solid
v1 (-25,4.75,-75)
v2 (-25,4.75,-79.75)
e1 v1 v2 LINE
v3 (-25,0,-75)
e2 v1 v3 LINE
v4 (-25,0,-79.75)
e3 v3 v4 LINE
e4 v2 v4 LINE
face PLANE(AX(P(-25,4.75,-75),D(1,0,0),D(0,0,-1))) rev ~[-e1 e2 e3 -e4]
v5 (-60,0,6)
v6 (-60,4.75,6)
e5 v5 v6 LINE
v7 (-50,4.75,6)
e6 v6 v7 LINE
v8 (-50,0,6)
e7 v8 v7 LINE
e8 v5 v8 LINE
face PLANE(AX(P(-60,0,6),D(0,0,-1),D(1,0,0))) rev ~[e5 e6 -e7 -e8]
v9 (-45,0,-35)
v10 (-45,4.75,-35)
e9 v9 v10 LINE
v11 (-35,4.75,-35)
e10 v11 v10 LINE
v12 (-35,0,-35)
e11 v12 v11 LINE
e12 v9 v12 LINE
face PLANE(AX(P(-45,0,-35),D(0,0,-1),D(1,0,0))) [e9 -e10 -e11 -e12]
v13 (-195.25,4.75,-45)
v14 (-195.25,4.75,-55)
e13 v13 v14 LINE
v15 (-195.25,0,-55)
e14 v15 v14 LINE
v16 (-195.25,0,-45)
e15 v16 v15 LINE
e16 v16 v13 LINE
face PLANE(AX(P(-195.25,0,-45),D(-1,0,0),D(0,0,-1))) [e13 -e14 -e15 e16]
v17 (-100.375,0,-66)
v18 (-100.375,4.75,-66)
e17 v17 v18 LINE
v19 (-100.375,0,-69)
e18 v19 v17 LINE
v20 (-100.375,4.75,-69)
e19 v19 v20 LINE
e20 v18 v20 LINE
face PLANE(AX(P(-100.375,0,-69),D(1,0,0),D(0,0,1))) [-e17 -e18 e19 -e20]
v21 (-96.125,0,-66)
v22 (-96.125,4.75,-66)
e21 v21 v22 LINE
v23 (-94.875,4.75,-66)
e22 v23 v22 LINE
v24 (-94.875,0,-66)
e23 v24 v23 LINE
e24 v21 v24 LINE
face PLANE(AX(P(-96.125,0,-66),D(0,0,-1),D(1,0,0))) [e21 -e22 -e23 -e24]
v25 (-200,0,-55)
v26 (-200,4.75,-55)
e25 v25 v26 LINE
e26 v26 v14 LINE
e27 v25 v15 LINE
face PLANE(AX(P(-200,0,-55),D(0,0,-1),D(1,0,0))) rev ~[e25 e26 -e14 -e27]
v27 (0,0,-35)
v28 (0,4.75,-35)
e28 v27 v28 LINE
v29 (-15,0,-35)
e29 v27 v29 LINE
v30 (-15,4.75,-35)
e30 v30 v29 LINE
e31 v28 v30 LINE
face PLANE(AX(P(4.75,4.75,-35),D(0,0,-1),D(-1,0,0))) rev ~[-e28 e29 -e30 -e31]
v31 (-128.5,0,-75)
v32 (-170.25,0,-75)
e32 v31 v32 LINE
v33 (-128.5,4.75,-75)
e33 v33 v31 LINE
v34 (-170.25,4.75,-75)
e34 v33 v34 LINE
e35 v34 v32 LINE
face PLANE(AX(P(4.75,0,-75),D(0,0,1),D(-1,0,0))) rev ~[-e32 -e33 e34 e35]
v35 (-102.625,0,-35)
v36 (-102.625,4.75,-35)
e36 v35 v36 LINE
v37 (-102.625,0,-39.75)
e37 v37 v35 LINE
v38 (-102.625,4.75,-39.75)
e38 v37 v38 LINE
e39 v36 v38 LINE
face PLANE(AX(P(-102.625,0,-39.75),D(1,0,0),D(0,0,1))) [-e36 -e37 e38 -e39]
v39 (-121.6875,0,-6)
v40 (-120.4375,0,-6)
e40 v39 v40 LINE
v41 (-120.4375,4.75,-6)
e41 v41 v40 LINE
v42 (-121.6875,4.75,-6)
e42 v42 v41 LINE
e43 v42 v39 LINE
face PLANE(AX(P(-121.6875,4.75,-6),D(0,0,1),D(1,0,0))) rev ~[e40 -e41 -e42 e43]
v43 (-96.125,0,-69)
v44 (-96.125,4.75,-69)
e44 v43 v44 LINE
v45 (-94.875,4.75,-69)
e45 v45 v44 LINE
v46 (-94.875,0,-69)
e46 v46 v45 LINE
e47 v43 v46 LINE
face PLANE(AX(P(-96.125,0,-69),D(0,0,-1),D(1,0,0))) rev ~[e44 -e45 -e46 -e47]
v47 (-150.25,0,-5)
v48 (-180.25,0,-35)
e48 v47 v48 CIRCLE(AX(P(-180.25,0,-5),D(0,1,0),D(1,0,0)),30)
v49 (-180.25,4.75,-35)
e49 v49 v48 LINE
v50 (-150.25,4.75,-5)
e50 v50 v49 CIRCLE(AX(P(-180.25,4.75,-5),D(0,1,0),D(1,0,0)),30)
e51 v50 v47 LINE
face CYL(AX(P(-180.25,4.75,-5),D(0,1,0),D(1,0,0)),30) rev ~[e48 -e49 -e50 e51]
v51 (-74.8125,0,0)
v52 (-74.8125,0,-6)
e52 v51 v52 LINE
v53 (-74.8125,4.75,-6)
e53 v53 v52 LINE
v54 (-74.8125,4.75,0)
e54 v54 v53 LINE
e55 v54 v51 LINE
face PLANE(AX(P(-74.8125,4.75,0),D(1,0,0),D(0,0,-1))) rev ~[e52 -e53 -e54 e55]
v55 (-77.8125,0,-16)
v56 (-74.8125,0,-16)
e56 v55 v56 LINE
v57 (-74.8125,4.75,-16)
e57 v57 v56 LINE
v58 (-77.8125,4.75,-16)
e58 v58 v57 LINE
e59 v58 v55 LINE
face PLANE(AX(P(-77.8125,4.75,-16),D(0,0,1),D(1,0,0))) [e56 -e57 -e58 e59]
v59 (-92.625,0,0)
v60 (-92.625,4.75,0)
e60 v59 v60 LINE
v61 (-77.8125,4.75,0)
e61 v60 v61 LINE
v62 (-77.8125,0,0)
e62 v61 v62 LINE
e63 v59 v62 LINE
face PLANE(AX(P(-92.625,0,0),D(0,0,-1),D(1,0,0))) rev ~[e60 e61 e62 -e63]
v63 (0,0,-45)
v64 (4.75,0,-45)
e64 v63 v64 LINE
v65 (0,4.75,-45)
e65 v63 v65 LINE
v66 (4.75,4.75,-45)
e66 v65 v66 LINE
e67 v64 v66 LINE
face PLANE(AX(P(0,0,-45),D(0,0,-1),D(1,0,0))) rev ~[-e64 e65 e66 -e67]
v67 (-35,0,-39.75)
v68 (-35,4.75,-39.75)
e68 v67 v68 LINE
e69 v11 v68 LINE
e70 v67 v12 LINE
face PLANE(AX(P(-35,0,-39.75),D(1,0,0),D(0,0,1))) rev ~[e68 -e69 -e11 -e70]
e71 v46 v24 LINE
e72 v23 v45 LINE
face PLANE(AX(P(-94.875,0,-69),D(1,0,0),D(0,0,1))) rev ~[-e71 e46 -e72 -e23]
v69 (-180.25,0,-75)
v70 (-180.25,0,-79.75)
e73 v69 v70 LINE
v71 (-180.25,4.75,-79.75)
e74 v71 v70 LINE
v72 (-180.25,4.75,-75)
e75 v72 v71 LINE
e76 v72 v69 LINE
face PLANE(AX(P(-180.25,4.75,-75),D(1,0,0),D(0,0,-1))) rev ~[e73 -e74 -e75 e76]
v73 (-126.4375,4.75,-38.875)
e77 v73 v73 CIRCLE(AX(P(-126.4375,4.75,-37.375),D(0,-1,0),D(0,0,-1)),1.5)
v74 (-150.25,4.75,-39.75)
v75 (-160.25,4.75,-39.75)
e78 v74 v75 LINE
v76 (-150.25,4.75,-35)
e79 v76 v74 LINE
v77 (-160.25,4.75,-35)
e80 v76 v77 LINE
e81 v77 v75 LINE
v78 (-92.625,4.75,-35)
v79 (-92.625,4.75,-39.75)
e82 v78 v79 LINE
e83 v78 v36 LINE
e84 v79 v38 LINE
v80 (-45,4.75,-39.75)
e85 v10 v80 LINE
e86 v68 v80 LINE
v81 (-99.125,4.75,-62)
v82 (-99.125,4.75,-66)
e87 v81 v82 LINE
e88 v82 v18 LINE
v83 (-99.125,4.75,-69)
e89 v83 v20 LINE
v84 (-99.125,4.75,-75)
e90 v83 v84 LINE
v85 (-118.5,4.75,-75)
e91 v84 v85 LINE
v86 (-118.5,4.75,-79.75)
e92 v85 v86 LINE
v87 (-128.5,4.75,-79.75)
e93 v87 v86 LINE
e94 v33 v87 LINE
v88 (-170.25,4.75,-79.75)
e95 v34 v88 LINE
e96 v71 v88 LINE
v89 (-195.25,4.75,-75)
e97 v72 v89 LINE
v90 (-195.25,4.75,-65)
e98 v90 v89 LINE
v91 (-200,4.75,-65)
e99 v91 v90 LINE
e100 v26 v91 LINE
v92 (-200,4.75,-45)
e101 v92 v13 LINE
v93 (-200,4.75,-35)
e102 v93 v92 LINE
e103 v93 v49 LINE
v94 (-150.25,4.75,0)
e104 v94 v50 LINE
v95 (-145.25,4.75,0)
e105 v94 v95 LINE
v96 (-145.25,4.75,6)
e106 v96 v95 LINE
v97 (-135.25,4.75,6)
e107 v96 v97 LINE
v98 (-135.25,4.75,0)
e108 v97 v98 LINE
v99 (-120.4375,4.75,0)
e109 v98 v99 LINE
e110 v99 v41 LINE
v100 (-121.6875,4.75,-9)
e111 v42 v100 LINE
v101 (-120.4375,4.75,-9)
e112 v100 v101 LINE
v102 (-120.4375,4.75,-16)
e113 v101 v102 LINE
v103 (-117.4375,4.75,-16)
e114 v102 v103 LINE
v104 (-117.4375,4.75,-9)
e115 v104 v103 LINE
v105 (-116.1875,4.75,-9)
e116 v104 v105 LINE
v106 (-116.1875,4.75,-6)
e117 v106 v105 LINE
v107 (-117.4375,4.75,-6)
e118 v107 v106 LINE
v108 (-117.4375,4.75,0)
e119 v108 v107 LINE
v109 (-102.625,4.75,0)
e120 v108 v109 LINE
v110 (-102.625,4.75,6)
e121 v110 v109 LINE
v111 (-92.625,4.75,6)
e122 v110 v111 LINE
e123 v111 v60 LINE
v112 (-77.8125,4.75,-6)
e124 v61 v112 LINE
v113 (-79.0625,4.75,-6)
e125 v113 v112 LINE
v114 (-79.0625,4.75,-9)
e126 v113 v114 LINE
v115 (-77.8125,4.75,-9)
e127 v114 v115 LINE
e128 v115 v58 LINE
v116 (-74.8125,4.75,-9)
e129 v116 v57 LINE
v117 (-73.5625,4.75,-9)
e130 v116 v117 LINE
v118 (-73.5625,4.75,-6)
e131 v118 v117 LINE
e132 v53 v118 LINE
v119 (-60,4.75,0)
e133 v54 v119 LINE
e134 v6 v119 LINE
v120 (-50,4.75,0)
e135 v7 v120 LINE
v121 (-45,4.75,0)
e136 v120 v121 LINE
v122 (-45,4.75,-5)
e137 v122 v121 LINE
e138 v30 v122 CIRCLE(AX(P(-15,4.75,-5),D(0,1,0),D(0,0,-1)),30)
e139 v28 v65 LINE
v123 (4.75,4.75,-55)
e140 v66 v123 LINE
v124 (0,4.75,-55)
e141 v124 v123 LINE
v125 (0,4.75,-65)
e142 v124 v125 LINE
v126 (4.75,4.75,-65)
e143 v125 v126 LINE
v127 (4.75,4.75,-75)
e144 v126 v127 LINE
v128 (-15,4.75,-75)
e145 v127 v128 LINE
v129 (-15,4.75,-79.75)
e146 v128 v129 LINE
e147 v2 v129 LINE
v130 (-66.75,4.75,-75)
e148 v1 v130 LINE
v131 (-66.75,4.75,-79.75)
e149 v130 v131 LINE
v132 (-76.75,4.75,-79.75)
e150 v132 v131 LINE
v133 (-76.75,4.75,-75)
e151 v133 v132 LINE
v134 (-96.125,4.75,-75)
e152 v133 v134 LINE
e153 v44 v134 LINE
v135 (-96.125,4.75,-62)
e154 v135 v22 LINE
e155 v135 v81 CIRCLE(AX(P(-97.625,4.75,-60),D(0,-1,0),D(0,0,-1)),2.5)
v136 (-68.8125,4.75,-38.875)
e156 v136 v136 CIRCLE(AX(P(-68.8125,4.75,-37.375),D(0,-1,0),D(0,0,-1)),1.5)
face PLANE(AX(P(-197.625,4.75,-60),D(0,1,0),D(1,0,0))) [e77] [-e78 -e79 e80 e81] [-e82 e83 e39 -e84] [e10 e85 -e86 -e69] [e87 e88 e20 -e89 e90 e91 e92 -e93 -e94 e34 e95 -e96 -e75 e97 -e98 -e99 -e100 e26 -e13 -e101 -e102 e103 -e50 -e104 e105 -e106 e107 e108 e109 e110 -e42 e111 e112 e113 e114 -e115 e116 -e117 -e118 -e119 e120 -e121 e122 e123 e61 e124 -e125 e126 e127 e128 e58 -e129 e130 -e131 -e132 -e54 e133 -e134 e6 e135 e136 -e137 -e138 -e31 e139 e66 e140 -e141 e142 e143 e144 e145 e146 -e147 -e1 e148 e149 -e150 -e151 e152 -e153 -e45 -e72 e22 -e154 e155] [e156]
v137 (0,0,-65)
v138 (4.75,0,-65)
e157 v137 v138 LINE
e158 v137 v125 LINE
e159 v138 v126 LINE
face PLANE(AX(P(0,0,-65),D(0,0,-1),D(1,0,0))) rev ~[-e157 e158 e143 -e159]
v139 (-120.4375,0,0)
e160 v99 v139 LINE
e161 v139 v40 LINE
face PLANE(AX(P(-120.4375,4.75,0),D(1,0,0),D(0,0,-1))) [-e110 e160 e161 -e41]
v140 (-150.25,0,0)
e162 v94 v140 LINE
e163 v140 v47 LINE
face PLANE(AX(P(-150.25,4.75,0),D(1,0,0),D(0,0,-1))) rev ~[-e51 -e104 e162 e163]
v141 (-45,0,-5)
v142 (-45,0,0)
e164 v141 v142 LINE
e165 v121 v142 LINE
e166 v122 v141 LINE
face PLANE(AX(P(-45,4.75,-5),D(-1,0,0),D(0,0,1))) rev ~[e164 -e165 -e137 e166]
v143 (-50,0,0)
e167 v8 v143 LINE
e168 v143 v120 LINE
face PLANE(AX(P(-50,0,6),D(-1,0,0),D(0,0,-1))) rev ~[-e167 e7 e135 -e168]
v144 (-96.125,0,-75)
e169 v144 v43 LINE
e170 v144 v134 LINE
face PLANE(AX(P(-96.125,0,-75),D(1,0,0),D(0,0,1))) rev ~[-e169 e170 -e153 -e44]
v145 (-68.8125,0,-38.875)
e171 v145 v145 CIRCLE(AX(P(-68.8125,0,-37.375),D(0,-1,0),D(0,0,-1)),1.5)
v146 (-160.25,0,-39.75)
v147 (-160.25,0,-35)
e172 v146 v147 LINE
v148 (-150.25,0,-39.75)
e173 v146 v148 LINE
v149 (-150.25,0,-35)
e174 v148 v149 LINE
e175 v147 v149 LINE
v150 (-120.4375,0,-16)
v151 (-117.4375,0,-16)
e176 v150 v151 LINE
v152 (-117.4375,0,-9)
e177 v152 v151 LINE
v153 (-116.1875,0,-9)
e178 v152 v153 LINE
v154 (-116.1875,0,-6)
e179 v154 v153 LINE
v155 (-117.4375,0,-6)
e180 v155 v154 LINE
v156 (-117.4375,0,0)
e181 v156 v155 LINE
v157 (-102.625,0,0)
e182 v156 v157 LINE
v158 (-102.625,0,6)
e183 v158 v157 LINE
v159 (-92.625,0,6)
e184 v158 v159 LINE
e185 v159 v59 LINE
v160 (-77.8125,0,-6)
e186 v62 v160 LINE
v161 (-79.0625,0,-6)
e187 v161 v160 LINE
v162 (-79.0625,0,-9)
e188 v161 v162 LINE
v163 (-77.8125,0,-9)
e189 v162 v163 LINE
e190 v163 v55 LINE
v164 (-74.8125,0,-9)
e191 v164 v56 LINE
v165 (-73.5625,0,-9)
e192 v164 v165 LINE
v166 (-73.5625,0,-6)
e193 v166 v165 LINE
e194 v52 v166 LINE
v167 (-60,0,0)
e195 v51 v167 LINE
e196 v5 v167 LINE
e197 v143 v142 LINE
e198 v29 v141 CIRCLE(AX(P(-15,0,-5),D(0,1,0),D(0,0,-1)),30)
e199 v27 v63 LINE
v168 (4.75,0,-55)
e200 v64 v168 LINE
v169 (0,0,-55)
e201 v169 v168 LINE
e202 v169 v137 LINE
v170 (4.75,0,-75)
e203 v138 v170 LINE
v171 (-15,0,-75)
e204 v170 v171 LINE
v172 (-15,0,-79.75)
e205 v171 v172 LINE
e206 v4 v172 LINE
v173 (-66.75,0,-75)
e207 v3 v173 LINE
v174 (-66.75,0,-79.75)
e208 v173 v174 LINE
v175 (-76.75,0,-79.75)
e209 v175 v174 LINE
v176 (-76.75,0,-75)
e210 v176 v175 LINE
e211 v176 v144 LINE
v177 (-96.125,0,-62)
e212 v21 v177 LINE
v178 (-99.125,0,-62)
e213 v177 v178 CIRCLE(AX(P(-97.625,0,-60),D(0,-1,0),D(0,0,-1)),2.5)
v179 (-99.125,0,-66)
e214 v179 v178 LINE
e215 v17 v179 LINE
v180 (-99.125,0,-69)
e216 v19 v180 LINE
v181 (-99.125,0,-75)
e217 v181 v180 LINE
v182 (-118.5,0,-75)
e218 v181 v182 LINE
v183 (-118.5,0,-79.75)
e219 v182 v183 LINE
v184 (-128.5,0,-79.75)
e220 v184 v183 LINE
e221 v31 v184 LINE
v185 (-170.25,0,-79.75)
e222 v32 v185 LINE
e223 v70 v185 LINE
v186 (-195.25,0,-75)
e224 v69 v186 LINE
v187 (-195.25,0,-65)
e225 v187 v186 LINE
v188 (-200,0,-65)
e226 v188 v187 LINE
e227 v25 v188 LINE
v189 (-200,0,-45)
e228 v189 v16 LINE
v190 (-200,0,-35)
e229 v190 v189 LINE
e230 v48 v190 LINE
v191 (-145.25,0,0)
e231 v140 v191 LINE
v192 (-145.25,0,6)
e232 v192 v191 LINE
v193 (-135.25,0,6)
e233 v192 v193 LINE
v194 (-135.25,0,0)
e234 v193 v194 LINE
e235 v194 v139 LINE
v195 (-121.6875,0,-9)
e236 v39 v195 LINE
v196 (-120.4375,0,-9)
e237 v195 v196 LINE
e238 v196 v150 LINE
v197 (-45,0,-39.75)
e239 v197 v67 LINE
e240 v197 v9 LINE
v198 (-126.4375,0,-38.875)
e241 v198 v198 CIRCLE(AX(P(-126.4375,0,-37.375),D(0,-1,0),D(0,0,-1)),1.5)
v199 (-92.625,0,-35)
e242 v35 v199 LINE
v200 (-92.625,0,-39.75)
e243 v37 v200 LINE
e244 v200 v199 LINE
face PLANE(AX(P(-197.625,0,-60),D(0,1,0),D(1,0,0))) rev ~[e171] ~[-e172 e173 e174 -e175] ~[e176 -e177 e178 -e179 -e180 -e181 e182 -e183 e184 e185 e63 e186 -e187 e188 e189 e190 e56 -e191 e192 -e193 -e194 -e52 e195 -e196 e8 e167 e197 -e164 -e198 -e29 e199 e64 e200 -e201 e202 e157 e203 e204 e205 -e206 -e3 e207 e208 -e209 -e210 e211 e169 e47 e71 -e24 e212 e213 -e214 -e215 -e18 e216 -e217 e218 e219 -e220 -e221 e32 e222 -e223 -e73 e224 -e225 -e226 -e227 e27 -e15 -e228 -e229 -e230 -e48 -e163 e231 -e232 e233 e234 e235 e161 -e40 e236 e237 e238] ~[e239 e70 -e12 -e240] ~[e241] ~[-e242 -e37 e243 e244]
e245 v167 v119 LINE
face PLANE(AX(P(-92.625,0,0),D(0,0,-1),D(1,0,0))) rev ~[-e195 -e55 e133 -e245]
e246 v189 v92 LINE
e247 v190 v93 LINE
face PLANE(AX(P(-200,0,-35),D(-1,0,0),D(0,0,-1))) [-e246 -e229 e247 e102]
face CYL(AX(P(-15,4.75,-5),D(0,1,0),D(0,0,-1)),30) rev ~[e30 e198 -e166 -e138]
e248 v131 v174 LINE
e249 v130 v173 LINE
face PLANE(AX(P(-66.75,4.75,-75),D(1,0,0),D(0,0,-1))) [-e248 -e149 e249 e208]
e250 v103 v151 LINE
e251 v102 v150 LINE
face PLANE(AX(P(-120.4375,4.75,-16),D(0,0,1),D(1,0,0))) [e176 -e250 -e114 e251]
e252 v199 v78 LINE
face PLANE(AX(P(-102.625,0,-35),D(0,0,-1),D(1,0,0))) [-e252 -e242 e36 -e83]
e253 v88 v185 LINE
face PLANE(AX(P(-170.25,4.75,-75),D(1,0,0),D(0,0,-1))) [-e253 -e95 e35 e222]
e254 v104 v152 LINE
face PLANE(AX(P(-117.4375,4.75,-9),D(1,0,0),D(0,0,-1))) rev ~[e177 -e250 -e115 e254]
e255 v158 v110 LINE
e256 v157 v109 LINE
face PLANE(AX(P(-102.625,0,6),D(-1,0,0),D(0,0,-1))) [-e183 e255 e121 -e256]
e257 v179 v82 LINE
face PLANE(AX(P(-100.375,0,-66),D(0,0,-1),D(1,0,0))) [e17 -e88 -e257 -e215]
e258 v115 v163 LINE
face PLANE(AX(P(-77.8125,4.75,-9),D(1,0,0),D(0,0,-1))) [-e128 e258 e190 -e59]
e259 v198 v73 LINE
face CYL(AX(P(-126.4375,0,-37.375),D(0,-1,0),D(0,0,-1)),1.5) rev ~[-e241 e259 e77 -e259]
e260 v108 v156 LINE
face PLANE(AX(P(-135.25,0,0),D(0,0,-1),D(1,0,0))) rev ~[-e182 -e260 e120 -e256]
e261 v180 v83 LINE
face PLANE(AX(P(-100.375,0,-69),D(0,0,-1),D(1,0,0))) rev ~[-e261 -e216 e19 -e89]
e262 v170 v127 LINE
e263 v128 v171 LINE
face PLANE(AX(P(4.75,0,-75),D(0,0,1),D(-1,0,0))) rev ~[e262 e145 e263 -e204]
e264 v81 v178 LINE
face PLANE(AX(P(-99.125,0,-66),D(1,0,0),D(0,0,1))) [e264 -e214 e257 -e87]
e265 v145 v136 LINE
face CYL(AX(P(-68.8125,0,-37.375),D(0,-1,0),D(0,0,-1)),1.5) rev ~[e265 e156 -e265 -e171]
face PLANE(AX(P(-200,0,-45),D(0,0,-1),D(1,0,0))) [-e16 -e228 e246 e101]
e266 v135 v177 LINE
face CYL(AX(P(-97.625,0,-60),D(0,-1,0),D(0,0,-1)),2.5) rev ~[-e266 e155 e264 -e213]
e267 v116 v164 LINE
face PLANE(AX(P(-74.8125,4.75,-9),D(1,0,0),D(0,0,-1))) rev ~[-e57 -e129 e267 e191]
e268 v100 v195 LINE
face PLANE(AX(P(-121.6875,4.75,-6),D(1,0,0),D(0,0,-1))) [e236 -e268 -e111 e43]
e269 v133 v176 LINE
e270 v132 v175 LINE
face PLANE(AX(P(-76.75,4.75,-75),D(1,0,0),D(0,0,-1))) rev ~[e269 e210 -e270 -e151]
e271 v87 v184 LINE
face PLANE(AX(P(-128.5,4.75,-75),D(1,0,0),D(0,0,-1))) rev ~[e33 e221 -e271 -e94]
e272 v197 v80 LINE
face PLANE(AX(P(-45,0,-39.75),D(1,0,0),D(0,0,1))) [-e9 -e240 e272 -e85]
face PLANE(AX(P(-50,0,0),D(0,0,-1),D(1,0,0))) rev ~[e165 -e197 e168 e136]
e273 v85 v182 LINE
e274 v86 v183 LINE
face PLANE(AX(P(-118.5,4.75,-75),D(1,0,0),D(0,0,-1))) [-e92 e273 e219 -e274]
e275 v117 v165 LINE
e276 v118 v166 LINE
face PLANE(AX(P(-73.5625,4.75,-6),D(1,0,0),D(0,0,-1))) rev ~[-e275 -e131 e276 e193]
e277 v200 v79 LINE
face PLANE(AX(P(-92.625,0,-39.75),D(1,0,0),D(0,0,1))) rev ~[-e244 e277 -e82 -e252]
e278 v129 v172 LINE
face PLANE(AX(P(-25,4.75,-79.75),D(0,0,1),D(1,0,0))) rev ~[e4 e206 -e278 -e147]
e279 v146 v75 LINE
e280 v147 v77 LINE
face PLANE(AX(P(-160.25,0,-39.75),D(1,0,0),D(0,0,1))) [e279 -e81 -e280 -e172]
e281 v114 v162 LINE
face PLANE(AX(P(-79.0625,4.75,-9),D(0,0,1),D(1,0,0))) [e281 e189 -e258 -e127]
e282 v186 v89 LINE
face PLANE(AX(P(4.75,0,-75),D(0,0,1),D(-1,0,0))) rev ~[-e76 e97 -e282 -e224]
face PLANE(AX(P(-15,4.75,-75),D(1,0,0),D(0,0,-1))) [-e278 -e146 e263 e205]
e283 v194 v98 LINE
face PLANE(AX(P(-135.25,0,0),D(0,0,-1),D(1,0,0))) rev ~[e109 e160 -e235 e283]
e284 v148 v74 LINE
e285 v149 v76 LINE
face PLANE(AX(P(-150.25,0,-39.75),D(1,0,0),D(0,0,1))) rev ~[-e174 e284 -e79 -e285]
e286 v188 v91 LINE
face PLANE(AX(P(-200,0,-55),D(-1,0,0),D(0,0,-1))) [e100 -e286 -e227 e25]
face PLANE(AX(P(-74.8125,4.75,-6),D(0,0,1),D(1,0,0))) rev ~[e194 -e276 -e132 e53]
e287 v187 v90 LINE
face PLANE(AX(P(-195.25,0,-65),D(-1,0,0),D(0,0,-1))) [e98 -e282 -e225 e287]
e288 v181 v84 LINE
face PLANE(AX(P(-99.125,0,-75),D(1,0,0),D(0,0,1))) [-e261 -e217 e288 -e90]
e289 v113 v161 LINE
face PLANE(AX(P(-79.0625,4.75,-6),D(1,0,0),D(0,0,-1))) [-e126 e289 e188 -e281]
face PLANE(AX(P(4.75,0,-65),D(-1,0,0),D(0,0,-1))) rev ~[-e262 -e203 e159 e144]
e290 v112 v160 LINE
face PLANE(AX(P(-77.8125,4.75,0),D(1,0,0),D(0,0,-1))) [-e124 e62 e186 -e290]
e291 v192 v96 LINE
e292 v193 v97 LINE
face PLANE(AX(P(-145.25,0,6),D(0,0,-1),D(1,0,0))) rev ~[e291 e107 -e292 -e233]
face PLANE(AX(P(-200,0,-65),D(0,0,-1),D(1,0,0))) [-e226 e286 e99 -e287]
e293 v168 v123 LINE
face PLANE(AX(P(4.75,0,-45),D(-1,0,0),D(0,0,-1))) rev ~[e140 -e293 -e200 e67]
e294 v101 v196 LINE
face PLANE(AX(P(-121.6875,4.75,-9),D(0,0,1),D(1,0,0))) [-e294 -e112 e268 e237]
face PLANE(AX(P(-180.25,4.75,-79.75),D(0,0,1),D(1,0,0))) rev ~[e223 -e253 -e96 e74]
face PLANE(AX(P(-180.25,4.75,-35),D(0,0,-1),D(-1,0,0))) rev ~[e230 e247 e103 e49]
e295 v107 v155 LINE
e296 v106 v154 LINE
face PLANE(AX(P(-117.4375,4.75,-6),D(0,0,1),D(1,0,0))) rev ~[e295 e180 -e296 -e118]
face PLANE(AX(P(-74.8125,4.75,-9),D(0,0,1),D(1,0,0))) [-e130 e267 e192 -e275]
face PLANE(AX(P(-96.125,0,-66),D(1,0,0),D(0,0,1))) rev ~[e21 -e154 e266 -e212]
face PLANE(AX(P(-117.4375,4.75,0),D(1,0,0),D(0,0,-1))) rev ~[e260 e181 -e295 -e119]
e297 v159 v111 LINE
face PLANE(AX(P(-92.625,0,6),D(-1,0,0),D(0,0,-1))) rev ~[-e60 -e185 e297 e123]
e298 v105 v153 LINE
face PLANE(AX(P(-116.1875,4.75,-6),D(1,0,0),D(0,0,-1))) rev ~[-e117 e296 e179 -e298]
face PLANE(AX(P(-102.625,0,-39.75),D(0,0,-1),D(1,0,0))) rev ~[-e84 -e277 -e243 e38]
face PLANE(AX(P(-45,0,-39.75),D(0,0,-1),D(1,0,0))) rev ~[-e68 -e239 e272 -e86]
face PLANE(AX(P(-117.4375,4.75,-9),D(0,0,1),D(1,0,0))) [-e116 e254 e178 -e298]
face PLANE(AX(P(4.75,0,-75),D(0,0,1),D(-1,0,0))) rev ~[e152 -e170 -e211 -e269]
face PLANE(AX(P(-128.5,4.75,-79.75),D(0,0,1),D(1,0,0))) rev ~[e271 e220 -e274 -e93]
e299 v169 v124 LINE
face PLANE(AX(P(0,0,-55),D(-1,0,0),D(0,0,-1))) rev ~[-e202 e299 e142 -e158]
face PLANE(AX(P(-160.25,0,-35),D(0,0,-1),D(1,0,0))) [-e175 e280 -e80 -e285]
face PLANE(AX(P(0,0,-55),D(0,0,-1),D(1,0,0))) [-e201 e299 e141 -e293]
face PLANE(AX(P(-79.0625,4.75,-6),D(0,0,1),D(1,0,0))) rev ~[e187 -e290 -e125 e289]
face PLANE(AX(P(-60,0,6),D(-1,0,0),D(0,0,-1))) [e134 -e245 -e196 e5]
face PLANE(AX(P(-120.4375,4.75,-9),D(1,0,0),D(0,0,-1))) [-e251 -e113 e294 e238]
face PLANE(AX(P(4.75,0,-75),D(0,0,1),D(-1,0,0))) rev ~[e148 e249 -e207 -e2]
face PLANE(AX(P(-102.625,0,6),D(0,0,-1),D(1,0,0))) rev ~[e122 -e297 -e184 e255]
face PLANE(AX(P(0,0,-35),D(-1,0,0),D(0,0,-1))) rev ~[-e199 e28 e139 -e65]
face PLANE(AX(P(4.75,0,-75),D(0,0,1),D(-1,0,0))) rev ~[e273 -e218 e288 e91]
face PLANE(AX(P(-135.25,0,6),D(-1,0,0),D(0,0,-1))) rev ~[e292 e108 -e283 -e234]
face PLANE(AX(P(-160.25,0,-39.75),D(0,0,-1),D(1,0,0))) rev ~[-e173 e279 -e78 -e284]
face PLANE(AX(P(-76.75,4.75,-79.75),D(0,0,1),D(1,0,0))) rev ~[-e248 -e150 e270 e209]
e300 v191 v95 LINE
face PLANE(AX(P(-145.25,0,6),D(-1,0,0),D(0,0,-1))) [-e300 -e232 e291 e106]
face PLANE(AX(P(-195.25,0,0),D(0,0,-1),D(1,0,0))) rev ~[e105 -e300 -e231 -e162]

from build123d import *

# Parameters (mm, degrees)
SKETCH1_W           = 4.75
SKETCH1_H           = 10
SKETCH1_W_2         = 195.25
SKETCH1_H_2         = 75
SKETCH1_W_3         = 10
SKETCH1_H_3         = 6
SKETCH1_H_4         = 35
BOSS_EXTRUDE1_DEPTH = 4.75
SKETCH3_W           = 4.75
SKETCH3_H           = 35
CUT_EXTRUDE2_DEPTH  = 4.75
SKETCH4_W           = 3
SKETCH4_H           = 16
SKETCH4_W_2         = 5.5
SKETCH4_H_2         = 3
CUT_EXTRUDE3_DEPTH  = 4.75
SKETCH5_W           = 10
SKETCH5_H           = 4.75
CUT_EXTRUDE4_DEPTH  = 214.652901923
SKETCH6_R           = 1.5
CUT_EXTRUDE5_DEPTH  = 214.652901923
SKETCH7_W           = 10
SKETCH7_H           = 4.75
BOSS_EXTRUDE2_DEPTH = 4.75
SKETCH8_R           = 2.5
CUT_EXTRUDE6_DEPTH  = 216.366257803
SKETCH9_W           = 3
SKETCH9_H           = 16
SKETCH9_W_2         = 5.5
SKETCH9_H_2         = 3
CUT_EXTRUDE7_DEPTH  = 10


with BuildPart() as part:
    # Sketch1 → Boss-Extrude1 (new body)
    with BuildSketch(Plane(origin=(0, 0, 0), x_dir=(1, 0, 0), z_dir=(0, 1, 0))):
        with Locations((-197.625, 60)):
            Rectangle(SKETCH1_W, SKETCH1_H)
        with Locations((-97.625, 37.5)):
            Rectangle(SKETCH1_W_2, SKETCH1_H_2)
        with Locations((-140.25, -3)):
            Rectangle(SKETCH1_W_3, SKETCH1_H_3)
        with Locations((-97.625, -3)):
            Rectangle(SKETCH1_W_3, SKETCH1_H_3)
        with Locations((-55, -3)):
            Rectangle(SKETCH1_W_3, SKETCH1_H_3)
        with Locations((2.375, 17.5)):
            Rectangle(SKETCH1_W, SKETCH1_H_4)
        with Locations((2.375, 50)):
            Rectangle(SKETCH1_W, SKETCH1_H)
        with Locations((2.375, 70)):
            Rectangle(SKETCH1_W, SKETCH1_H)
        with Locations((-197.625, 40)):
            Rectangle(SKETCH1_W, SKETCH1_H)
    extrude(amount=BOSS_EXTRUDE1_DEPTH)

    # Sketch3 → Cut-Extrude2 (cut)
    with BuildSketch(Plane(origin=(0, 4.75, 0), x_dir=(1, 0, 0), z_dir=(0, 1, 0))):
        with BuildLine():
            Line((-180.25, 35), (-195.25, 35))
            Line((-195.25, 35), (-195.25, 0))
            Line((-195.25, 0), (-150.25, 0))
            Line((-150.25, 0), (-150.25, 5))
            ThreePointArc((-150.25, 5), (-159.036796564, 26.213203436), (-180.25, 35))
        make_face()
        with BuildLine():
            Line((-45, 0), (0, 0))
            Line((0, 0), (0, 35))
            Line((0, 35), (-15, 35))
            ThreePointArc((-15, 35), (-36.213203436, 26.213203436), (-45, 5))
            Line((-45, 5), (-45, 0))
        make_face()
        with Locations((2.375, 17.5)):
            Rectangle(SKETCH3_W, SKETCH3_H)
    extrude(amount=-CUT_EXTRUDE2_DEPTH, mode=Mode.SUBTRACT)

    # Sketch4 → Cut-Extrude3 (cut)
    with BuildSketch(Plane(origin=(0, 4.75, 0), x_dir=(1, 0, 0), z_dir=(0, 1, 0))):
        with Locations((-118.9375, 8)):
            Rectangle(SKETCH4_W, SKETCH4_H)
        with Locations((-76.3125, 8)):
            Rectangle(SKETCH4_W, SKETCH4_H)
        with Locations((-118.9375, 7.5)):
            Rectangle(SKETCH4_W_2, SKETCH4_H_2)
        with Locations((-76.3125, 7.5)):
            Rectangle(SKETCH4_W_2, SKETCH4_H_2)
    extrude(amount=-CUT_EXTRUDE3_DEPTH, mode=Mode.SUBTRACT)

    # Sketch5 → Cut-Extrude4 (cut, through all)
    with BuildSketch(Plane.XZ):
        with Locations((-155.25, -37.375)):
            Rectangle(SKETCH5_W, SKETCH5_H)
        with Locations((-97.625, -37.375)):
            Rectangle(SKETCH5_W, SKETCH5_H)
        with Locations((-40, -37.375)):
            Rectangle(SKETCH5_W, SKETCH5_H)
    extrude(amount=-CUT_EXTRUDE4_DEPTH, mode=Mode.SUBTRACT)

    # Sketch6 → Cut-Extrude5 (cut, through all)
    with BuildSketch(Plane.XZ):
        with Locations(Location((-68.8125, -37.375, 0), (0, 0, 270))):
            Circle(SKETCH6_R)
        with Locations(Location((-126.4375, -37.375, 0), (0, 0, 270))):
            Circle(SKETCH6_R)
    extrude(amount=-CUT_EXTRUDE5_DEPTH, mode=Mode.SUBTRACT)

    # Sketch7 → Boss-Extrude2 (add)
    with BuildSketch(Plane(origin=(0, 4.75, 0), x_dir=(1, 0, 0), z_dir=(0, 1, 0))):
        with Locations((-175.25, 77.375)):
            Rectangle(SKETCH7_W, SKETCH7_H)
        with Locations((-123.5, 77.375)):
            Rectangle(SKETCH7_W, SKETCH7_H)
        with Locations((-71.75, 77.375)):
            Rectangle(SKETCH7_W, SKETCH7_H)
        with Locations((-20, 77.375)):
            Rectangle(SKETCH7_W, SKETCH7_H)
    extrude(amount=-BOSS_EXTRUDE2_DEPTH)

    # Sketch8 → Cut-Extrude6 (cut, through all)
    with BuildSketch(Plane.XZ):
        with Locations(Location((-97.625, -60, 0), (0, 0, 270))):
            Circle(SKETCH8_R)
    extrude(amount=-CUT_EXTRUDE6_DEPTH, mode=Mode.SUBTRACT)

    # Sketch9 → Cut-Extrude7 (cut)
    with BuildSketch(Plane.XZ):
        with Locations((-97.625, -67)):
            Rectangle(SKETCH9_W, SKETCH9_H)
        with Locations((-97.625, -67.5)):
            Rectangle(SKETCH9_W_2, SKETCH9_H_2)
    extrude(amount=-CUT_EXTRUDE7_DEPTH, mode=Mode.SUBTRACT)


solid = part.part
